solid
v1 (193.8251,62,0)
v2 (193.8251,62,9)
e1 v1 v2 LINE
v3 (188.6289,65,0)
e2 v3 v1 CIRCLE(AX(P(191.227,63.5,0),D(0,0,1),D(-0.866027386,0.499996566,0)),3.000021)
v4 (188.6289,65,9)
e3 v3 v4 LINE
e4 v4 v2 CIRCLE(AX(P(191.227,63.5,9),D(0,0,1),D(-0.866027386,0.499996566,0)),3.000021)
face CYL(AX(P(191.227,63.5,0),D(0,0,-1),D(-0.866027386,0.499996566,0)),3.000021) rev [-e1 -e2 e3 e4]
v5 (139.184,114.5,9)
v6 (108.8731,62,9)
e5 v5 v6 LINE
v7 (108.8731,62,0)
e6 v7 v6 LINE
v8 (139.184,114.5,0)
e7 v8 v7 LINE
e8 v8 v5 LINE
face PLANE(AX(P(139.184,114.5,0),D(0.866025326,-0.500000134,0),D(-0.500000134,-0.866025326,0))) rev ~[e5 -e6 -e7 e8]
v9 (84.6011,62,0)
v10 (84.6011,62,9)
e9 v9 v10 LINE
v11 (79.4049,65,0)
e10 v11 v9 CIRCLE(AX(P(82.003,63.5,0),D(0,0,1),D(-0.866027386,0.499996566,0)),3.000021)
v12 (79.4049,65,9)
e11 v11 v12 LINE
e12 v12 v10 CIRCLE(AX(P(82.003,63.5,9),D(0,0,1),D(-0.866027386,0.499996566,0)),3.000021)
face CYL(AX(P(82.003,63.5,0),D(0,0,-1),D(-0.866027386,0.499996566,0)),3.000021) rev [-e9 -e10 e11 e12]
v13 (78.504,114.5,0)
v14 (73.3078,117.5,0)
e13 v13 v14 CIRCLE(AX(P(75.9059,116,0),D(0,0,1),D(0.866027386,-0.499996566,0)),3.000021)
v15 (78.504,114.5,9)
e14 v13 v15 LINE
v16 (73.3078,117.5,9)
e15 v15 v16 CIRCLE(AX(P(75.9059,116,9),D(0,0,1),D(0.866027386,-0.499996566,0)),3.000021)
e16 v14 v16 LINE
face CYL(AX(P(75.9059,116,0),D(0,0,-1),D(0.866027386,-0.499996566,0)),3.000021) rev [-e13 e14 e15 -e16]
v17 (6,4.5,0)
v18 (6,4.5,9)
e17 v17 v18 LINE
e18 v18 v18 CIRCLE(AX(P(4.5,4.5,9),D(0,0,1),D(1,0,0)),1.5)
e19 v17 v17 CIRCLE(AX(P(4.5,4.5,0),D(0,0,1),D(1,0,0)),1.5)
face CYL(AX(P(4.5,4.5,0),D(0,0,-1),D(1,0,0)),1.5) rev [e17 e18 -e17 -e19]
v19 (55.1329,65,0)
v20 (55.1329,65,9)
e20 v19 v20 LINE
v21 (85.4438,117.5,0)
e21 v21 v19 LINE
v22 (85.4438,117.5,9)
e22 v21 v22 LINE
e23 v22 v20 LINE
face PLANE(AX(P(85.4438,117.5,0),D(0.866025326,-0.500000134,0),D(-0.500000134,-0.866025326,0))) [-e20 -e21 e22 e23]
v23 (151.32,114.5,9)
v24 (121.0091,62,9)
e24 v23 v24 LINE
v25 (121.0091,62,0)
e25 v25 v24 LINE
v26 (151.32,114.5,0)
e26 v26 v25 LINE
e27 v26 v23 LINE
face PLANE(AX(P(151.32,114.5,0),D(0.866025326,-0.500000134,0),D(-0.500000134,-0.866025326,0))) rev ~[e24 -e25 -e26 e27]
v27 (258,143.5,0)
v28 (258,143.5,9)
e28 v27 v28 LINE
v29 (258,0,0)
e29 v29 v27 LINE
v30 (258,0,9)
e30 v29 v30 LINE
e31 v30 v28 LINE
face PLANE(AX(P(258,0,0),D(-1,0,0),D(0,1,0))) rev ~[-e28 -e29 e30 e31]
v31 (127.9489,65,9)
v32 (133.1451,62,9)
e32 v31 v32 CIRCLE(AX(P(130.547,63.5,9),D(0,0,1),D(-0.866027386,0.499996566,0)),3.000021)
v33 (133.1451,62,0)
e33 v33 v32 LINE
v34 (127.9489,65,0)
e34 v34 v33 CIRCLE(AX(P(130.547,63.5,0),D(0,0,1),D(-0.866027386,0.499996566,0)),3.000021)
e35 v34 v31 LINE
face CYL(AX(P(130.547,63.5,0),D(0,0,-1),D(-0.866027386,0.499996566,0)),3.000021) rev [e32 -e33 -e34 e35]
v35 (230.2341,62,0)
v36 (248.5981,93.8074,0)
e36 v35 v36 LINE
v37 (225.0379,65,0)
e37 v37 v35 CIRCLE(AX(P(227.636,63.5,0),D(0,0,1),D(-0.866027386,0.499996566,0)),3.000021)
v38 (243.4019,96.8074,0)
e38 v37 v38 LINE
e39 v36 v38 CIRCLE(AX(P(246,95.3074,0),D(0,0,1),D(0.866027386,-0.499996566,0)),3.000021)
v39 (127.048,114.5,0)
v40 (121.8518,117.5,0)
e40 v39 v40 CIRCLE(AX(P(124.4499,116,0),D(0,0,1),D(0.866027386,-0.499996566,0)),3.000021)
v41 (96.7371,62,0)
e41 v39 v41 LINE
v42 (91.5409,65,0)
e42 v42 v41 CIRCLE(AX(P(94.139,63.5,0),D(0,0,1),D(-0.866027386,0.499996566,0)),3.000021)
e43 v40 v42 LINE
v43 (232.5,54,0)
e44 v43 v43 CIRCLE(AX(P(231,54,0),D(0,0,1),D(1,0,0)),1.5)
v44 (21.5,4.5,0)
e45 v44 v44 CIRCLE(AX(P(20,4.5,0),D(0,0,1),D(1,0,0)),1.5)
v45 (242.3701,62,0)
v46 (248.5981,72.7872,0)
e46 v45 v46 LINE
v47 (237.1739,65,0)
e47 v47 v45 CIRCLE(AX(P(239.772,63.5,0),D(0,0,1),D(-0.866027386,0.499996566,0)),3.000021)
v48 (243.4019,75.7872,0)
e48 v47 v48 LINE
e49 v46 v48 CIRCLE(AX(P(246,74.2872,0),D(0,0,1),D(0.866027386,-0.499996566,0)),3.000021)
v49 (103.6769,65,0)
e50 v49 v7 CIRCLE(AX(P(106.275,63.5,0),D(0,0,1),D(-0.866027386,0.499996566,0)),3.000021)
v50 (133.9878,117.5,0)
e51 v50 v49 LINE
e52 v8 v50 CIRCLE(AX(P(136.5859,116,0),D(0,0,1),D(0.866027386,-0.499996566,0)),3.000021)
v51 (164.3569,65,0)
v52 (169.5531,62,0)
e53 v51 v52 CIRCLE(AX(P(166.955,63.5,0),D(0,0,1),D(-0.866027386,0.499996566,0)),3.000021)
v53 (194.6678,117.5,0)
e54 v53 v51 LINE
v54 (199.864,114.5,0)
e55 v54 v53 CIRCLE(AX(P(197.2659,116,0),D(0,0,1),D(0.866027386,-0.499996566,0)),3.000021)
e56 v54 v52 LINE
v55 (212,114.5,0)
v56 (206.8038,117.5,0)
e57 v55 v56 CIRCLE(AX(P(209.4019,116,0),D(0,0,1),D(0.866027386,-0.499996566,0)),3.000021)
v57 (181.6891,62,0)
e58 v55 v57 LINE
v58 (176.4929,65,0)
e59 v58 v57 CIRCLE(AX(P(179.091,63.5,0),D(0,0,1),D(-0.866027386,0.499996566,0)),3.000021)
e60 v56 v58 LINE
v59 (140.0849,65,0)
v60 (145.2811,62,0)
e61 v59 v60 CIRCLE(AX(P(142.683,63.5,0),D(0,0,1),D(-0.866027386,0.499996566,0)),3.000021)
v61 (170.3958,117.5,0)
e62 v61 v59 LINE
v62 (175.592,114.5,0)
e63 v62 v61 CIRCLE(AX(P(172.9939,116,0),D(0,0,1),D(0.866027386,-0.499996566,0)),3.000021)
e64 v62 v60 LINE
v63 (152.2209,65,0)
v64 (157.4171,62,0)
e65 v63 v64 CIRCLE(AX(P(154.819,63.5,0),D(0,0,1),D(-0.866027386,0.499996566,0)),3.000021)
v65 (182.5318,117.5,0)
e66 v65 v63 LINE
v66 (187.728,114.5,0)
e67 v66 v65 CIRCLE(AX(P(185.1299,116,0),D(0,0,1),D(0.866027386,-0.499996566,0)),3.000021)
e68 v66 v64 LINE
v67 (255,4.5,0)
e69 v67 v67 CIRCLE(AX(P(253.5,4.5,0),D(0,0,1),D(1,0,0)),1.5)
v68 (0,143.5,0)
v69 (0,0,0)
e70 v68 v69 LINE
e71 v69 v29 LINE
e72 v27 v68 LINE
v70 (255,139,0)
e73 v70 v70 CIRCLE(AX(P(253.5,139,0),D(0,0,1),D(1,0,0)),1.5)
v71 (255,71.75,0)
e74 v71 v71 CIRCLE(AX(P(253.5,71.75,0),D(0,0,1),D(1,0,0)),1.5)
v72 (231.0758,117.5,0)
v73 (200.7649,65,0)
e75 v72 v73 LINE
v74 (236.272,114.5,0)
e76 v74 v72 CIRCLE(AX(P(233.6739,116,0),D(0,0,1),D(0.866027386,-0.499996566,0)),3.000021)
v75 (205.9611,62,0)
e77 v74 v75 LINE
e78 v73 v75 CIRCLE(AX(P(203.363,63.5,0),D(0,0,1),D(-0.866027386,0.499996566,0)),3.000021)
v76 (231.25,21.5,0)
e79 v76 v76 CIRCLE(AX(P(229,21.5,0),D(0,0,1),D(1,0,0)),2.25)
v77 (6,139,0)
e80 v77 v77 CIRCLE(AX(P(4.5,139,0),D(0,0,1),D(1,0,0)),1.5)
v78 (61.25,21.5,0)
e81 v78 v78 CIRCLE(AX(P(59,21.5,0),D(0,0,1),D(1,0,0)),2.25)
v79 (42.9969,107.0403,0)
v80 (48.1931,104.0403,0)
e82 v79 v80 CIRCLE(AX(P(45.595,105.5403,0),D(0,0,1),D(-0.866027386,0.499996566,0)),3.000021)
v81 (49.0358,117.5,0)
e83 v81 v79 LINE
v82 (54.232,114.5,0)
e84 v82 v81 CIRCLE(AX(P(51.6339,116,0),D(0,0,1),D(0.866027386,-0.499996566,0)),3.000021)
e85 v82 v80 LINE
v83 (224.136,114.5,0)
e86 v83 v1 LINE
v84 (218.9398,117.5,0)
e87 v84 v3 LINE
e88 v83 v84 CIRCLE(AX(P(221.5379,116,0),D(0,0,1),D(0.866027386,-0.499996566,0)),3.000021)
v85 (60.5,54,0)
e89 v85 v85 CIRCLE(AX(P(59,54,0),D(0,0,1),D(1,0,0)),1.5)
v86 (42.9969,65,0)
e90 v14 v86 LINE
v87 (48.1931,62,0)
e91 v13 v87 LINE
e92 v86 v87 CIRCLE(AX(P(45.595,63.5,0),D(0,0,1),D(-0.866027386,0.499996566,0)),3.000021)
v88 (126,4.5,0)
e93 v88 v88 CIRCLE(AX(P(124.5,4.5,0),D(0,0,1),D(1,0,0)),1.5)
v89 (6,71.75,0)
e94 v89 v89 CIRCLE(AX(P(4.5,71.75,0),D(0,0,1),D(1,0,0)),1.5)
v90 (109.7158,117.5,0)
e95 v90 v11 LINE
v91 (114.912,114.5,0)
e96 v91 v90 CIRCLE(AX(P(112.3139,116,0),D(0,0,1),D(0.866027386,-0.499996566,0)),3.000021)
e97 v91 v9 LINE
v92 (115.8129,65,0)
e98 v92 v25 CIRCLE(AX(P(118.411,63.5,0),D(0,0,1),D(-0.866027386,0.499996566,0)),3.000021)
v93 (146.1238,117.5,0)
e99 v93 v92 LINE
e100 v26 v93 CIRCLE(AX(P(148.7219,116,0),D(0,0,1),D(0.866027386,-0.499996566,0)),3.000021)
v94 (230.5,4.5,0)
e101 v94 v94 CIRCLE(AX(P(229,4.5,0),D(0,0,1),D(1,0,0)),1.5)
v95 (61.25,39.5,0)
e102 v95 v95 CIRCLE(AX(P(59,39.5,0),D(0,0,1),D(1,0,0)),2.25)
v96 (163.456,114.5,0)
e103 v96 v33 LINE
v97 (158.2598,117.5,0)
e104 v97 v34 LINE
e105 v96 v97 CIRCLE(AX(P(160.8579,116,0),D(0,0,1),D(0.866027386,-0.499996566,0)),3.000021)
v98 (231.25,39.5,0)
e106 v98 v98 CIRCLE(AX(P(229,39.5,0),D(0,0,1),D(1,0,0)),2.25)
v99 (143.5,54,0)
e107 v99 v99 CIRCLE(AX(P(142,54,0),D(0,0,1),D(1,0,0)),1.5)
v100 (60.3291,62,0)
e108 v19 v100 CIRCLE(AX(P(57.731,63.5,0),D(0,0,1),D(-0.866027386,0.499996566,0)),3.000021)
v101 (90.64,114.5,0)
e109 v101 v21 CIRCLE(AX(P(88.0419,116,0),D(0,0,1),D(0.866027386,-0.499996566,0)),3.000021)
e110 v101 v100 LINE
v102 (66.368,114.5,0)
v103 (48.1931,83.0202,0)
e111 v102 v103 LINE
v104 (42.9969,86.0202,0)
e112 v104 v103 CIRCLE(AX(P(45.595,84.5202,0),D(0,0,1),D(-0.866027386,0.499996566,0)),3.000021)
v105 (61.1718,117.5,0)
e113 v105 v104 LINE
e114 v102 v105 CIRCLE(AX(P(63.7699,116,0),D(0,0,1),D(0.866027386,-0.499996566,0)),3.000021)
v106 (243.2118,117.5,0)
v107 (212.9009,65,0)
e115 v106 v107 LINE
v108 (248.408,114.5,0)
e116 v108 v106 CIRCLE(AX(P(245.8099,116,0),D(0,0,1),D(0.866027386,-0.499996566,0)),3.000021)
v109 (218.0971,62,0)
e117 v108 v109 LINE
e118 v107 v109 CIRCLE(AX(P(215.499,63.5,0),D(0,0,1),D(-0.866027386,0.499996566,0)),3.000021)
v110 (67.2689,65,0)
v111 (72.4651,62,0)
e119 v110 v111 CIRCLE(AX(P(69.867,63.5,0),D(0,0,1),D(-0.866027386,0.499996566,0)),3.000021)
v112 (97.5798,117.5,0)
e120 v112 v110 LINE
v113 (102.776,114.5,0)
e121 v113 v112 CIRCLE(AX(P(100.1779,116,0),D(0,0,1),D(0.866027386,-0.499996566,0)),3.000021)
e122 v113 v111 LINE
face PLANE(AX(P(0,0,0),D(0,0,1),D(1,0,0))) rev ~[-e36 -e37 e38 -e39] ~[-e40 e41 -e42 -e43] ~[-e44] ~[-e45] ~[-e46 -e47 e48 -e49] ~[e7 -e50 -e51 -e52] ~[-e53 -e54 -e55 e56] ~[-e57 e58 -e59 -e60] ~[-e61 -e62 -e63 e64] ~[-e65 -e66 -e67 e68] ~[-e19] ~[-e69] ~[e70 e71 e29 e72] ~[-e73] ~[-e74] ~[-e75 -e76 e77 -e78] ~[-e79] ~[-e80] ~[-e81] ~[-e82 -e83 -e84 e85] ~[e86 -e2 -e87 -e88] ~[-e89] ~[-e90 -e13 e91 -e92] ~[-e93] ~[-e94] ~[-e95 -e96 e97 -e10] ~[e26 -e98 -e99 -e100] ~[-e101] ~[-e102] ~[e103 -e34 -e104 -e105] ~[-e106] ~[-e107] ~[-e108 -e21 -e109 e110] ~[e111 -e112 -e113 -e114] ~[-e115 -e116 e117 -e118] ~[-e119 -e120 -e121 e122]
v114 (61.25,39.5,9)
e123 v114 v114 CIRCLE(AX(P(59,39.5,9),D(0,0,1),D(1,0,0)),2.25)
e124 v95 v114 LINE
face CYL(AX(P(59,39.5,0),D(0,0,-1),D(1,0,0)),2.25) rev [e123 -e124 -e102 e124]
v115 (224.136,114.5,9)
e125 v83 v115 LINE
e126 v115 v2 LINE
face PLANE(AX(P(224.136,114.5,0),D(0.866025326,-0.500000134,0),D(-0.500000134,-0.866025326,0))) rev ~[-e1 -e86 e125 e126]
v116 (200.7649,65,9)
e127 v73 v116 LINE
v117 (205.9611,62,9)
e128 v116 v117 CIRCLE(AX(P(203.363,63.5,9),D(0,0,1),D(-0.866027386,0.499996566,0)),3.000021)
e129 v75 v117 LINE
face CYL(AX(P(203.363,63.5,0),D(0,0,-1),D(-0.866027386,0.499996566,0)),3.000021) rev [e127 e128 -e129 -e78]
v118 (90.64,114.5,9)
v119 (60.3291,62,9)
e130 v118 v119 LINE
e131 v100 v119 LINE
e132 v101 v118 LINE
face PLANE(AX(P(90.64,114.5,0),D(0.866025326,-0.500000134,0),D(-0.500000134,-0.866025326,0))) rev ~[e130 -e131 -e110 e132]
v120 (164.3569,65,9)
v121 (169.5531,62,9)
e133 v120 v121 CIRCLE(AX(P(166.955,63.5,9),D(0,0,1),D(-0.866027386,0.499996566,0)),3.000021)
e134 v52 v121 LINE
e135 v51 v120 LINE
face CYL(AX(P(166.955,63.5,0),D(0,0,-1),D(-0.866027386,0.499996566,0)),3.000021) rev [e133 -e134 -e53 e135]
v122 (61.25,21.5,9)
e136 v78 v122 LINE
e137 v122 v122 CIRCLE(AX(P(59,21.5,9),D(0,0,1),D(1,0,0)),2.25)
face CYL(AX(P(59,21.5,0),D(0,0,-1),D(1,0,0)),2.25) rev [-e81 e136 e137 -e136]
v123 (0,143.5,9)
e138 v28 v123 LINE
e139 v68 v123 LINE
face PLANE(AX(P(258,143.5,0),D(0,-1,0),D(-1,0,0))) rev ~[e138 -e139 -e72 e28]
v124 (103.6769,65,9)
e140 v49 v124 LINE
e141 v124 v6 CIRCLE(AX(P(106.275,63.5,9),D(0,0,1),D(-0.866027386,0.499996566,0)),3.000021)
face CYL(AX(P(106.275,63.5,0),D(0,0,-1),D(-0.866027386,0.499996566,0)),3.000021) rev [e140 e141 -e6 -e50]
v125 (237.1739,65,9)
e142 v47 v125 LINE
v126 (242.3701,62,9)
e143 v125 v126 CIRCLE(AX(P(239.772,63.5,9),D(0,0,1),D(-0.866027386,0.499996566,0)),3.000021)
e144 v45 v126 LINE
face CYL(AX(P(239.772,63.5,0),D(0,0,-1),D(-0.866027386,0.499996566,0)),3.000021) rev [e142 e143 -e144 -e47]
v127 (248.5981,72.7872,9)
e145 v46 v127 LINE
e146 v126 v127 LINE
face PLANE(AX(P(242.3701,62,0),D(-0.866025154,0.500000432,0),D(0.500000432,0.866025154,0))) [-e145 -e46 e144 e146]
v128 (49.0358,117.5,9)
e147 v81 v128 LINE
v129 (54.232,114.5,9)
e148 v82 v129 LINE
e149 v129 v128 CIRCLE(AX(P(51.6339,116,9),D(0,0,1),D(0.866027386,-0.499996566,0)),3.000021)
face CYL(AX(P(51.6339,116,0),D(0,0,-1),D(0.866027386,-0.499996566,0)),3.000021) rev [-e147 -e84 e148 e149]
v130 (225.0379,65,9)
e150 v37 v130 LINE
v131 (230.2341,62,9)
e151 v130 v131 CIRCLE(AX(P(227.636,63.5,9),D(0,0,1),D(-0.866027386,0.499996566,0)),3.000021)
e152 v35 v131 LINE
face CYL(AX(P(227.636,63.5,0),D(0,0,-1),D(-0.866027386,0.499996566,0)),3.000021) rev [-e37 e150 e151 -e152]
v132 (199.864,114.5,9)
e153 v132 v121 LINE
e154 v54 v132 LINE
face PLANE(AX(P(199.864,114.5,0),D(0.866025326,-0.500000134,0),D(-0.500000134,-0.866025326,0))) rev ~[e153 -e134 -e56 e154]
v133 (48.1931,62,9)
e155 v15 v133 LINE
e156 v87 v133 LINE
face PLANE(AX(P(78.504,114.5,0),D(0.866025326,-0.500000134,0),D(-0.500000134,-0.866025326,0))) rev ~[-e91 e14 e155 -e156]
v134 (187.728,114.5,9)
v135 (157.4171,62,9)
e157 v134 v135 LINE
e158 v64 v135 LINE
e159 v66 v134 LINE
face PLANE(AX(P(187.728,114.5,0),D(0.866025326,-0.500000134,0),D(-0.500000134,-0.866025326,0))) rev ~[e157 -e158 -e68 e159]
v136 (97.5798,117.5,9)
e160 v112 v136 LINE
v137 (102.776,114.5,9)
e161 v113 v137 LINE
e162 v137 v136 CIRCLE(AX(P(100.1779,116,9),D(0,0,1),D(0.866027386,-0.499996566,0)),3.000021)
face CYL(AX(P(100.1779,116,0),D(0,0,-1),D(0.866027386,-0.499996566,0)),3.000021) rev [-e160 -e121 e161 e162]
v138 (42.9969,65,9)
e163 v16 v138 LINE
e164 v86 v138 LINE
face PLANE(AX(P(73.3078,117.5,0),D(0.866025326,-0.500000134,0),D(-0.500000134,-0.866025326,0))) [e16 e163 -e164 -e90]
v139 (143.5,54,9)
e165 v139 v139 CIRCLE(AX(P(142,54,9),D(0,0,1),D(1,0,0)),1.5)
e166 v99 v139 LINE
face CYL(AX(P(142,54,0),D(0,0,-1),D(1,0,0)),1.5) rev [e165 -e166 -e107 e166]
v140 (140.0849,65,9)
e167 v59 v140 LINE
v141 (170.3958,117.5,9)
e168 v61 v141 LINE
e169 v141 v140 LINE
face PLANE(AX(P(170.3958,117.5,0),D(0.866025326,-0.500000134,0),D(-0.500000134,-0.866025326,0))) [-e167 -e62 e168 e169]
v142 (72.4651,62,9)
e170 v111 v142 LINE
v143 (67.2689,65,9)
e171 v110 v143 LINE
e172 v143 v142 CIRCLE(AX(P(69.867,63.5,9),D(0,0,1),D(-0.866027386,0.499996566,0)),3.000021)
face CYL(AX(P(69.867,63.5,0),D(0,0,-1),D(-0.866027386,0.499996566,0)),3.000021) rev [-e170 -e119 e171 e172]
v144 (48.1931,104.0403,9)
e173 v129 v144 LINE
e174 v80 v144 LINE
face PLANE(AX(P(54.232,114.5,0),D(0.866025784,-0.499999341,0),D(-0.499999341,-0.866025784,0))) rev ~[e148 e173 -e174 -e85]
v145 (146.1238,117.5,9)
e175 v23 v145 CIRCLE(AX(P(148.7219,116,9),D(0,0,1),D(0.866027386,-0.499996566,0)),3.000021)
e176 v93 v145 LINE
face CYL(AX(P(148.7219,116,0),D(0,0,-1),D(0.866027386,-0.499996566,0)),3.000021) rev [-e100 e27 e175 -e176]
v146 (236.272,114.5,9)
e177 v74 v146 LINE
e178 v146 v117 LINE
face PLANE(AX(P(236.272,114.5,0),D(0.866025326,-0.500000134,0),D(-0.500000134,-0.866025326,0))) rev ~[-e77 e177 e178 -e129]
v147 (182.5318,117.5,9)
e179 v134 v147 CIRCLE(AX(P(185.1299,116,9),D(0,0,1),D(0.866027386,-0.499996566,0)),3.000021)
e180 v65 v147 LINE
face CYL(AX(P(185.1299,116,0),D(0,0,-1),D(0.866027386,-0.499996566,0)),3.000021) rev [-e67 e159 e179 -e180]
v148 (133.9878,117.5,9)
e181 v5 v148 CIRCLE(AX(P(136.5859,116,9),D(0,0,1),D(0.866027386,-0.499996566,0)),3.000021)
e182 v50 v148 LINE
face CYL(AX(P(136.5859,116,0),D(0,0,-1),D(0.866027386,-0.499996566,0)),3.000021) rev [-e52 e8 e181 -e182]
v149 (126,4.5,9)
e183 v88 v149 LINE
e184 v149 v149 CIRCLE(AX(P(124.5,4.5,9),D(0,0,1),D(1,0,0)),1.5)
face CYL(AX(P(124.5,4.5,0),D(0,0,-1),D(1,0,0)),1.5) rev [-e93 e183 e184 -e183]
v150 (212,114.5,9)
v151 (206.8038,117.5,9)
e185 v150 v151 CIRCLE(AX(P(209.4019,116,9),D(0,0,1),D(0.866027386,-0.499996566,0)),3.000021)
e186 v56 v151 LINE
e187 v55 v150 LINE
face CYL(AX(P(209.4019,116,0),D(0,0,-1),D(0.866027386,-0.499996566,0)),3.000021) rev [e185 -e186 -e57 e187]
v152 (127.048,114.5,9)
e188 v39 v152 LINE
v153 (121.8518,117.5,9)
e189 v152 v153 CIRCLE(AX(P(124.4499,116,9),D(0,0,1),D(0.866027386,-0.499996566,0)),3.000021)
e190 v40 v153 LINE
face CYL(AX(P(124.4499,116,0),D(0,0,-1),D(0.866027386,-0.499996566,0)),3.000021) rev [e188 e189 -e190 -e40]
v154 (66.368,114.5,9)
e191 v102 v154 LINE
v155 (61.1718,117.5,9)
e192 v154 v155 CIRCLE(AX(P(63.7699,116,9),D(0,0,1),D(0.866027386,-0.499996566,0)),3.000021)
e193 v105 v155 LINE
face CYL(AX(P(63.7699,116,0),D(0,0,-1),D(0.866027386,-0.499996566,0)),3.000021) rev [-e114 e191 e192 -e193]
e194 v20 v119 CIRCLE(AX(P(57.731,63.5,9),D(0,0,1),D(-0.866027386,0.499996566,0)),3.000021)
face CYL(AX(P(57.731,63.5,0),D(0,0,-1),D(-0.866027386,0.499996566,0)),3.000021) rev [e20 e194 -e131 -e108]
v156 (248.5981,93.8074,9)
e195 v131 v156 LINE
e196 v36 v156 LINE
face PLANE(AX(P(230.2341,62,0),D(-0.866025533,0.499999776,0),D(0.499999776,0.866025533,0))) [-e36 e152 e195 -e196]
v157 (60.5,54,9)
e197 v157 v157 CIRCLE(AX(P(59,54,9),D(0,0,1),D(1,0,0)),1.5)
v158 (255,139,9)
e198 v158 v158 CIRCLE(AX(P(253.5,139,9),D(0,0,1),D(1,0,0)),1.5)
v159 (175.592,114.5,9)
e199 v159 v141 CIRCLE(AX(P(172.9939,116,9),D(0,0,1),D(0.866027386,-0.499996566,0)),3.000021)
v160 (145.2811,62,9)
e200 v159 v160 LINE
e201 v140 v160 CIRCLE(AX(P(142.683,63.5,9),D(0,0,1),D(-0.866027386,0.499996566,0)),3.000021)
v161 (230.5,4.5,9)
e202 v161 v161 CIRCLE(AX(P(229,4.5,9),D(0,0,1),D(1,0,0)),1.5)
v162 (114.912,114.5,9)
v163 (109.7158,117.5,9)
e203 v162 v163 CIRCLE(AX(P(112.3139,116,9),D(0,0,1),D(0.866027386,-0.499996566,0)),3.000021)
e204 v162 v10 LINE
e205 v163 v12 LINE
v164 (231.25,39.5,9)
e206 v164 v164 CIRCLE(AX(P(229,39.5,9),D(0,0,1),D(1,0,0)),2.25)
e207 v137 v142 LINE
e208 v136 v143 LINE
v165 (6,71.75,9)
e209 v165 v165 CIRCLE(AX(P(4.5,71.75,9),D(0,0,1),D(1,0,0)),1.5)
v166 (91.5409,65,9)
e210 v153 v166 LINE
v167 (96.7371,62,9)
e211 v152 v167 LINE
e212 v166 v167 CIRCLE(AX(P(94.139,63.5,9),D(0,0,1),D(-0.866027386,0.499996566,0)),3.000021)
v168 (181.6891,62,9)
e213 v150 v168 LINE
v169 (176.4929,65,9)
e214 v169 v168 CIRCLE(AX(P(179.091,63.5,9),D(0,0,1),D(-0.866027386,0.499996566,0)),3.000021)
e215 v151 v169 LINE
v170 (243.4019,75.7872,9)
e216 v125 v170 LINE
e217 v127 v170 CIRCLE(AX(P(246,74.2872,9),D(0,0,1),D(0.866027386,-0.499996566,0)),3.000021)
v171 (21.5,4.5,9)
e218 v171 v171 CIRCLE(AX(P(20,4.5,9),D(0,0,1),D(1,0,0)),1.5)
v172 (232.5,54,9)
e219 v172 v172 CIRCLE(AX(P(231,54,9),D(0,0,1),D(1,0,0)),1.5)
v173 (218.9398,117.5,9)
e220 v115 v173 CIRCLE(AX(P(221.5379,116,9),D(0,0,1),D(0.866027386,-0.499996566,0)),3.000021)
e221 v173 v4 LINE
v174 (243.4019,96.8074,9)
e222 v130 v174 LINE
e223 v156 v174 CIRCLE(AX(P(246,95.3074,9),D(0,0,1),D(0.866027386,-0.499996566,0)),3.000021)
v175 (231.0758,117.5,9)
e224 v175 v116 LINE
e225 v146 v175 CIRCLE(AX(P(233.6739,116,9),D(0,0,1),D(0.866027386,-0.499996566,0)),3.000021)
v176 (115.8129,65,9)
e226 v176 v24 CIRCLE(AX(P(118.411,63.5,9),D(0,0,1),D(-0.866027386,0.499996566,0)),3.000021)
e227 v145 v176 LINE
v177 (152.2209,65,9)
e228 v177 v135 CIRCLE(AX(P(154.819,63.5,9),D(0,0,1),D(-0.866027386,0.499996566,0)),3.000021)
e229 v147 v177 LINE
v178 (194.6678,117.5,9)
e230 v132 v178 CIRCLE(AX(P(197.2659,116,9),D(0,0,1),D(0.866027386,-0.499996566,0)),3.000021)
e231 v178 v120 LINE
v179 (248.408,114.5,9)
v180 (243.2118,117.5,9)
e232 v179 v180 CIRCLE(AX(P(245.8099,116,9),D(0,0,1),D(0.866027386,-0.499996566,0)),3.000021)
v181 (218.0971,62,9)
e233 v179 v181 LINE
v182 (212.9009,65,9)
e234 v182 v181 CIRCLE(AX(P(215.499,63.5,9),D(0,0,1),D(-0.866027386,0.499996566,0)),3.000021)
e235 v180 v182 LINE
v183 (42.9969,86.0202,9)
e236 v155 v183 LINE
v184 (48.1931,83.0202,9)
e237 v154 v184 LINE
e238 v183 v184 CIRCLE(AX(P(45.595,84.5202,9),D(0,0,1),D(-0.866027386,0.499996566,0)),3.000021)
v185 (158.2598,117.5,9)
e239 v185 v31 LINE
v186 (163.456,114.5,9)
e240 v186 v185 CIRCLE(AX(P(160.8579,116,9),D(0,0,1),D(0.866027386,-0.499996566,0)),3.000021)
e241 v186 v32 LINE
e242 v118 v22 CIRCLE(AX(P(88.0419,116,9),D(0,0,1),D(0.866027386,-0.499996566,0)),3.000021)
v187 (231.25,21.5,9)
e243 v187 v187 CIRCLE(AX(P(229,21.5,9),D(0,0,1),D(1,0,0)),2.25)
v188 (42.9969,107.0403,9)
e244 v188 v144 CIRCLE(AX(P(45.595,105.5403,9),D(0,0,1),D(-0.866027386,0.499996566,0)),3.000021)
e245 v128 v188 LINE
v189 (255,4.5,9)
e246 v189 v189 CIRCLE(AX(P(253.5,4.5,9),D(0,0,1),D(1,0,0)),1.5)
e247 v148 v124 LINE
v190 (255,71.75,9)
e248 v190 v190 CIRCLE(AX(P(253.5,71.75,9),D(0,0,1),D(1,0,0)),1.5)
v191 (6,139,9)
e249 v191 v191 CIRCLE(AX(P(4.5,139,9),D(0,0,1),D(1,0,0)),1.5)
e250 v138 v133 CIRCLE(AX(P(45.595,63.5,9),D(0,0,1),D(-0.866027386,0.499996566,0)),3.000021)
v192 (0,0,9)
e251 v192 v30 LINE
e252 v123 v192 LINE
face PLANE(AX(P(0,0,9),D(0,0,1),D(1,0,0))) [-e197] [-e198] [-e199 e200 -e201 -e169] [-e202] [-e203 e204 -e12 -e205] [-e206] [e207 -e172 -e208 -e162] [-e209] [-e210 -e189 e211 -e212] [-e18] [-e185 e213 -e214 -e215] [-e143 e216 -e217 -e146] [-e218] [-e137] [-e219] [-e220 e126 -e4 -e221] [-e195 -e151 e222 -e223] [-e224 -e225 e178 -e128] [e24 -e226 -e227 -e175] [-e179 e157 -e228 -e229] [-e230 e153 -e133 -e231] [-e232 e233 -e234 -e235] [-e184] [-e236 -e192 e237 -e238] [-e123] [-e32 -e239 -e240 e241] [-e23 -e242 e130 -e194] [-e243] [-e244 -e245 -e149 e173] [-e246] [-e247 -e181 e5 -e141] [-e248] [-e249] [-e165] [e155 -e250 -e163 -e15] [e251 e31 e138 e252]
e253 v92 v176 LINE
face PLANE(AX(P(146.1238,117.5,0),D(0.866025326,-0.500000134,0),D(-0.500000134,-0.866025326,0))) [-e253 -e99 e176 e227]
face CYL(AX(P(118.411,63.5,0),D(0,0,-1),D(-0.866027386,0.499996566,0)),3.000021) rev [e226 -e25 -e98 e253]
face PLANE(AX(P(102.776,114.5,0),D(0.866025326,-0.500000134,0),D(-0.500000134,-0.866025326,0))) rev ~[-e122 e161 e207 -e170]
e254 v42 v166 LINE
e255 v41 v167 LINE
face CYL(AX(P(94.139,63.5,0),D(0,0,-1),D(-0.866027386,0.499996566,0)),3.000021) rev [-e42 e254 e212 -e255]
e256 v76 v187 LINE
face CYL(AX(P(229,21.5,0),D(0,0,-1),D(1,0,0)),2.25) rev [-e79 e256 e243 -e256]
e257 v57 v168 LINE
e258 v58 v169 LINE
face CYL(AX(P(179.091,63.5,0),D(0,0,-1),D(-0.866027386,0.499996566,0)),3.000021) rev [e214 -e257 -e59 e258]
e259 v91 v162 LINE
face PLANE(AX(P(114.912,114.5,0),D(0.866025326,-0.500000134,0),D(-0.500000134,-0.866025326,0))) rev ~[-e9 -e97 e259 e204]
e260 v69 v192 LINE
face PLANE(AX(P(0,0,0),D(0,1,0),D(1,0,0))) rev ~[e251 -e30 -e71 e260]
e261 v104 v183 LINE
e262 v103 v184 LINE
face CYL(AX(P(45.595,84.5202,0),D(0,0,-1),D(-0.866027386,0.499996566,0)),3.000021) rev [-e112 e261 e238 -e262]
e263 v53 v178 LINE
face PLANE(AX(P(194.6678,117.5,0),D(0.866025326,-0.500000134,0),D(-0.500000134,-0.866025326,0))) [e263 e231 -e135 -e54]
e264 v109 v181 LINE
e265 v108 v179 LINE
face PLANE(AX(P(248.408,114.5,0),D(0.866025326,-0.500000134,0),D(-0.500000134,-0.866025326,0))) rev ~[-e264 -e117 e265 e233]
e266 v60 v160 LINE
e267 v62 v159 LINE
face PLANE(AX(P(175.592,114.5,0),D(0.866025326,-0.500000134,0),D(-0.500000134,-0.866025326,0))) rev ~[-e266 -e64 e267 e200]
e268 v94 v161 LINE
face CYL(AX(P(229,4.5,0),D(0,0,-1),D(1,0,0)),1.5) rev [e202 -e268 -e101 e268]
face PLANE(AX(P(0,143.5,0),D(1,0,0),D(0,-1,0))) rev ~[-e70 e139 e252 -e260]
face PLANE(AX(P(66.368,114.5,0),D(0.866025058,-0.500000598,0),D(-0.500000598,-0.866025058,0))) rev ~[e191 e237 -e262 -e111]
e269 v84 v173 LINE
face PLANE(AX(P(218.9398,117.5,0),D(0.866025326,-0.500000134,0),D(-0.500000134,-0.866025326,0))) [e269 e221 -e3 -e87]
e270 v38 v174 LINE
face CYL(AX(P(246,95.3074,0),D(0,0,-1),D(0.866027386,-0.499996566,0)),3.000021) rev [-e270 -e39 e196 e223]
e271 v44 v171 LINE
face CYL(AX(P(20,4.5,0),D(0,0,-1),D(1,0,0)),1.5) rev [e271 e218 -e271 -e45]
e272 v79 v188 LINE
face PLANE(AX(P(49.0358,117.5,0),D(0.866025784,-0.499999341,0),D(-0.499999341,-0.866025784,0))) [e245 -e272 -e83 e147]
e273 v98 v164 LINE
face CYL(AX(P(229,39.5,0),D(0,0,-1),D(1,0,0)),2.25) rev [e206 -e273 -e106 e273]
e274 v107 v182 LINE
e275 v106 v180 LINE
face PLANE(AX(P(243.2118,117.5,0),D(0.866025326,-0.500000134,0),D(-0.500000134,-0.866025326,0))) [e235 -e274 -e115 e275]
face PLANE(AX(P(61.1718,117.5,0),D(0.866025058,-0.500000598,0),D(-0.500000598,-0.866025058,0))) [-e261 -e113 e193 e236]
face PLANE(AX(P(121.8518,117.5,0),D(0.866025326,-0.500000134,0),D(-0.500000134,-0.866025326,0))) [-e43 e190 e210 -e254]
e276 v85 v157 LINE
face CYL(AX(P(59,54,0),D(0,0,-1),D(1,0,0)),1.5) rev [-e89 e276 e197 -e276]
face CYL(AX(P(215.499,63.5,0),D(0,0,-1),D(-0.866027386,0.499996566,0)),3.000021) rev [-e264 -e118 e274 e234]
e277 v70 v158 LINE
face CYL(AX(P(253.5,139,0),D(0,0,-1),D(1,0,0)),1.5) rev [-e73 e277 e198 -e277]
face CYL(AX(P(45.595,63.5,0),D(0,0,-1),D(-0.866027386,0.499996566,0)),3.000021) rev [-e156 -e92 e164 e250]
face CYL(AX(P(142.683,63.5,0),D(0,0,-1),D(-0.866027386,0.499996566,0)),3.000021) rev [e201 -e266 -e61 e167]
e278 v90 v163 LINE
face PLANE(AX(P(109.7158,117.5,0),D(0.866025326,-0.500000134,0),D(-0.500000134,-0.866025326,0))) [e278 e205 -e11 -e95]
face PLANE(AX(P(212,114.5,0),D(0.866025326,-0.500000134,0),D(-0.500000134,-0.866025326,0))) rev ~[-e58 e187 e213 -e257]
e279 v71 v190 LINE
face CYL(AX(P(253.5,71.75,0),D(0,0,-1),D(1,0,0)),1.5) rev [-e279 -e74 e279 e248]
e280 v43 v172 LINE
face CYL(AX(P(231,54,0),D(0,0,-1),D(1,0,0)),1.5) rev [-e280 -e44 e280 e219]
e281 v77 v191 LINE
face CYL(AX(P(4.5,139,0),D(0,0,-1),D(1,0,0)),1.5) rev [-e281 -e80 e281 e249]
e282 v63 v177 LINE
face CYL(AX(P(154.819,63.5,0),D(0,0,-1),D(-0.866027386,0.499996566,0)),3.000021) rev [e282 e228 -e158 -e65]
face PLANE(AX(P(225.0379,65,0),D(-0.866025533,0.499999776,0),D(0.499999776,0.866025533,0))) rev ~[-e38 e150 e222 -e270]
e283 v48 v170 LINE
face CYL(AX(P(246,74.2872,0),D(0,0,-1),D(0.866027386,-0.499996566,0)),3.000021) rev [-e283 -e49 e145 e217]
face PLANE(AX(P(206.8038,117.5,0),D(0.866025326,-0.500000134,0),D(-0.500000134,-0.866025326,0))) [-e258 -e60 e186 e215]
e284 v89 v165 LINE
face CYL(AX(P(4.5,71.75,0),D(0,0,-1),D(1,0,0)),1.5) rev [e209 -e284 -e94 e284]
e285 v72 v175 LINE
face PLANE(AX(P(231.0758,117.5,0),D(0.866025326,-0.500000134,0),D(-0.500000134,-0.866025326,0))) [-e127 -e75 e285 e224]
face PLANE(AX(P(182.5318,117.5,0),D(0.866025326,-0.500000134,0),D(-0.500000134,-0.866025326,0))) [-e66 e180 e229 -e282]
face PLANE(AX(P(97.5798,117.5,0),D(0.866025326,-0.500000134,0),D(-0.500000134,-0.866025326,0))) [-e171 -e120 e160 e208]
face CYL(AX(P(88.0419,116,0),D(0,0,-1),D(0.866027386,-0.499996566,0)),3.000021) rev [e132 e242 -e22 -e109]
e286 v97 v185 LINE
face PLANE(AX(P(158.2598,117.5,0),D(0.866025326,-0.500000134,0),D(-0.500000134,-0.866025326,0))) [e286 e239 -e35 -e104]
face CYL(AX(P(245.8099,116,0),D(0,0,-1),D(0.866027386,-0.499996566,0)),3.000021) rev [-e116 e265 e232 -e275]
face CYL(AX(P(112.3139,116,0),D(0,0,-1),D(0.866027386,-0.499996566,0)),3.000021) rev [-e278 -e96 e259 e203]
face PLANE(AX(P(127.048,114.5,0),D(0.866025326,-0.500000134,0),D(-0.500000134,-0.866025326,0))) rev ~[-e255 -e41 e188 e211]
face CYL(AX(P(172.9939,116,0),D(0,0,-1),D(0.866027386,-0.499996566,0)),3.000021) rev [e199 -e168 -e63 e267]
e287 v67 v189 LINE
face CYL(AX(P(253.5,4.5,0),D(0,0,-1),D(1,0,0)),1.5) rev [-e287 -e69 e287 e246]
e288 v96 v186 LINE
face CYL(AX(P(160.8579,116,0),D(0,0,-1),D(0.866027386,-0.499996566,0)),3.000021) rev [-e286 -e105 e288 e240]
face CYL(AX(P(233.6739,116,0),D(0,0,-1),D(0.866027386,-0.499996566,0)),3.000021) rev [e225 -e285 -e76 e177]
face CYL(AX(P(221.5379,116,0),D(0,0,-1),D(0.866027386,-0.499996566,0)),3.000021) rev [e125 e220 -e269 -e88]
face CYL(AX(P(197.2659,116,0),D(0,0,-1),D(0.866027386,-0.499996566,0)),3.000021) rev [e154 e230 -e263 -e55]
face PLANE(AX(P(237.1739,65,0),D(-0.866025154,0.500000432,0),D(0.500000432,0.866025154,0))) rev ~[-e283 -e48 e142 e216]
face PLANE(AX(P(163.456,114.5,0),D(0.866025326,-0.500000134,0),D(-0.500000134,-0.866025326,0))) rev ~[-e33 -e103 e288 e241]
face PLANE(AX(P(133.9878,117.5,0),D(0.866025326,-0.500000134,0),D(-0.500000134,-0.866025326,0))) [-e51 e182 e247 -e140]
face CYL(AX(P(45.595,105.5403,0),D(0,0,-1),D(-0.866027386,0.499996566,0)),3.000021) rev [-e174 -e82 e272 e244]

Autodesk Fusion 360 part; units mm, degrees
sketch "Skizze1" plane through (0, 0, 0) normal (0, 0, 1) x (1, 0, 0)
  circle A0 centre (229, 39.5) radius 2.25
  circle A1 centre (253.5, 4.5) radius 1.5
  arc A2 (248.408, 114.5) -> (243.2118, 117.5) centre (245.8099, 116) ccw
  line L0 (61.1718, 117.5) -> (42.9969, 86.0202)
  line L1 (121.8518, 117.5) -> (91.5409, 65)
  arc A3 (236.272, 114.5) -> (231.0758, 117.5) centre (233.6739, 116) ccw
  line L2 (243.2118, 117.5) -> (212.9009, 65)
  line L3 (0, 0) -> (258, 0)
  line L4 (218.9398, 117.5) -> (188.6289, 65)
  line L5 (187.728, 114.5) -> (157.4171, 62)
  line L6 (212, 114.5) -> (181.6891, 62)
  line L7 (194.6678, 117.5) -> (164.3569, 65)
  circle A4 centre (231, 54) radius 1.5
  circle A5 centre (229, 21.5) radius 2.25
  arc A6 (212, 114.5) -> (206.8038, 117.5) centre (209.4019, 116) ccw
  line L8 (231.0758, 117.5) -> (200.7649, 65)
  line L9 (206.8038, 117.5) -> (176.4929, 65)
  arc A7 (199.864, 114.5) -> (194.6678, 117.5) centre (197.2659, 116) ccw
  line L10 (258, 0) -> (258, 143.5)
  line L11 (85.4438, 117.5) -> (55.1329, 65)
  arc A8 (187.728, 114.5) -> (182.5318, 117.5) centre (185.1299, 116) ccw
  line L12 (199.864, 114.5) -> (169.5531, 62)
  line L13 (73.3078, 117.5) -> (42.9969, 65)
  circle A9 centre (229, 4.5) radius 1.5
  line L14 (0, 143.5) -> (0, 0)
  line L15 (248.408, 114.5) -> (218.0971, 62)
  line L16 (242.3701, 62) -> (248.5981, 72.7872)
  line L17 (109.7158, 117.5) -> (79.4049, 65)
  circle A10 centre (253.5, 139) radius 1.5
  arc A11 (224.136, 114.5) -> (218.9398, 117.5) centre (221.5379, 116) ccw
  arc A12 (102.776, 114.5) -> (97.5798, 117.5) centre (100.1779, 116) ccw
  arc A13 (248.5981, 93.8074) -> (243.4019, 96.8074) centre (246, 95.3074) ccw
  arc A14 (200.7649, 65) -> (205.9611, 62) centre (203.363, 63.5) ccw
  line L18 (102.776, 114.5) -> (72.4651, 62)
  arc A15 (127.9489, 65) -> (133.1451, 62) centre (130.547, 63.5) ccw
  line L19 (146.1238, 117.5) -> (115.8129, 65)
  arc A16 (164.3569, 65) -> (169.5531, 62) centre (166.955, 63.5) ccw
  line L20 (175.592, 114.5) -> (145.2811, 62)
  line L21 (139.184, 114.5) -> (108.8731, 62)
  arc A17 (127.048, 114.5) -> (121.8518, 117.5) centre (124.4499, 116) ccw
  line L22 (114.912, 114.5) -> (84.6011, 62)
  arc A18 (140.0849, 65) -> (145.2811, 62) centre (142.683, 63.5) ccw
  line L23 (258, 143.5) -> (0, 143.5)
  arc A19 (175.592, 114.5) -> (170.3958, 117.5) centre (172.9939, 116) ccw
  arc A20 (115.8129, 65) -> (121.0091, 62) centre (118.411, 63.5) ccw
  arc A21 (176.4929, 65) -> (181.6891, 62) centre (179.091, 63.5) ccw
  line L24 (182.5318, 117.5) -> (152.2209, 65)
  line L25 (170.3958, 117.5) -> (140.0849, 65)
  arc A22 (103.6769, 65) -> (108.8731, 62) centre (106.275, 63.5) ccw
  arc A23 (152.2209, 65) -> (157.4171, 62) centre (154.819, 63.5) ccw
  line L26 (158.2598, 117.5) -> (127.9489, 65)
  line L27 (133.9878, 117.5) -> (103.6769, 65)
  circle A24 centre (124.5, 4.5) radius 1.5
  arc A25 (114.912, 114.5) -> (109.7158, 117.5) centre (112.3139, 116) ccw
  arc A26 (139.184, 114.5) -> (133.9878, 117.5) centre (136.5859, 116) ccw
  line L28 (163.456, 114.5) -> (133.1451, 62)
  arc A27 (151.32, 114.5) -> (146.1238, 117.5) centre (148.7219, 116) ccw
  line L29 (151.32, 114.5) -> (121.0091, 62)
  arc A28 (163.456, 114.5) -> (158.2598, 117.5) centre (160.8579, 116) ccw
  circle A29 centre (142, 54) radius 1.5
  arc A30 (225.0379, 65) -> (230.2341, 62) centre (227.636, 63.5) ccw
  arc A31 (188.6289, 65) -> (193.8251, 62) centre (191.227, 63.5) ccw
  line L30 (237.1739, 65) -> (243.4019, 75.7872)
  arc A32 (237.1739, 65) -> (242.3701, 62) centre (239.772, 63.5) ccw
  line L31 (230.2341, 62) -> (248.5981, 93.8074)
  line L32 (225.0379, 65) -> (243.4019, 96.8074)
  arc A33 (212.9009, 65) -> (218.0971, 62) centre (215.499, 63.5) ccw
  arc A34 (248.5981, 72.7872) -> (243.4019, 75.7872) centre (246, 74.2872) ccw
  circle A35 centre (253.5, 71.75) radius 1.5
  line L33 (127.048, 114.5) -> (96.7371, 62)
  line L34 (224.136, 114.5) -> (193.8251, 62)
  line L35 (236.272, 114.5) -> (205.9611, 62)
  arc A36 (90.64, 114.5) -> (85.4438, 117.5) centre (88.0419, 116) ccw
  arc A37 (91.5409, 65) -> (96.7371, 62) centre (94.139, 63.5) ccw
  line L36 (66.368, 114.5) -> (48.1931, 83.0202)
  line L37 (78.504, 114.5) -> (48.1931, 62)
  circle A38 centre (4.5, 139) radius 1.5
  circle A39 centre (4.5, 4.5) radius 1.5
  arc A40 (78.504, 114.5) -> (73.3078, 117.5) centre (75.9059, 116) ccw
  arc A41 (66.368, 114.5) -> (61.1718, 117.5) centre (63.7699, 116) ccw
  line L38 (54.232, 114.5) -> (48.1931, 104.0403)
  arc A42 (42.9969, 86.0202) -> (48.1931, 83.0202) centre (45.595, 84.5202) ccw
  line L39 (97.5798, 117.5) -> (67.2689, 65)
  line L40 (90.64, 114.5) -> (60.3291, 62)
  line L41 (49.0358, 117.5) -> (42.9969, 107.0403)
  arc A43 (42.9969, 107.0403) -> (48.1931, 104.0403) centre (45.595, 105.5403) ccw
  arc A44 (54.232, 114.5) -> (49.0358, 117.5) centre (51.6339, 116) ccw
  circle A45 centre (59, 54) radius 1.5
  arc A46 (55.1329, 65) -> (60.3291, 62) centre (57.731, 63.5) ccw
  circle A47 centre (4.5, 71.75) radius 1.5
  arc A48 (79.4049, 65) -> (84.6011, 62) centre (82.003, 63.5) ccw
  circle A49 centre (59, 21.5) radius 2.25
  arc A50 (67.2689, 65) -> (72.4651, 62) centre (69.867, 63.5) ccw
  arc A51 (42.9969, 65) -> (48.1931, 62) centre (45.595, 63.5) ccw
  circle A52 centre (59, 39.5) radius 2.25
  circle A53 centre (20, 4.5) radius 1.5
  point P0 (253.5, 71.75)
  point P1 (253.5, 139)
  point P2 (253.5, 4.5)
  point P3 (253.5, 4.5)
  point P4 (253.5, 139)
  point P5 (253.5, 71.75)
  dimension "d3" = 12.136
  dimension "d4" = 0
  dimension "d7" = 12.136
  dimension "d8" = 0
  dimension "d9" = 143.5
  dimension "d10" = 258
  dimension "d14" = 18
  dimension "d15" = 4.5
  dimension "d16" = 4.5
  dimension "d17" = 4.5
  dimension "d18" = 4.5
  dimension "d19" = 3
  dimension "d20" = 3
  dimension "d21" = 3
  dimension "d22" = 3
  dimension "d23" = 3
  dimension "d30" = 20
  dimension "d32" = 209
  dimension "d34" = 104.5
  dimension "d35" = 3
  dimension "d36" = 3
  dimension "d37" = 3
  dimension "d38" = 67.25
  dimension "d40" = 67.25
  dimension "d41" = 67.25
  dimension "d42" = 3
  dimension "d43" = 3
  dimension "d44" = 3
  dimension "d45" = 67.25
  dimension "d46" = 3
  dimension "d51" = 27
  dimension "d52" = 116
extrude "Extrusion1" add sketch "Skizze1" along normal blind 9
